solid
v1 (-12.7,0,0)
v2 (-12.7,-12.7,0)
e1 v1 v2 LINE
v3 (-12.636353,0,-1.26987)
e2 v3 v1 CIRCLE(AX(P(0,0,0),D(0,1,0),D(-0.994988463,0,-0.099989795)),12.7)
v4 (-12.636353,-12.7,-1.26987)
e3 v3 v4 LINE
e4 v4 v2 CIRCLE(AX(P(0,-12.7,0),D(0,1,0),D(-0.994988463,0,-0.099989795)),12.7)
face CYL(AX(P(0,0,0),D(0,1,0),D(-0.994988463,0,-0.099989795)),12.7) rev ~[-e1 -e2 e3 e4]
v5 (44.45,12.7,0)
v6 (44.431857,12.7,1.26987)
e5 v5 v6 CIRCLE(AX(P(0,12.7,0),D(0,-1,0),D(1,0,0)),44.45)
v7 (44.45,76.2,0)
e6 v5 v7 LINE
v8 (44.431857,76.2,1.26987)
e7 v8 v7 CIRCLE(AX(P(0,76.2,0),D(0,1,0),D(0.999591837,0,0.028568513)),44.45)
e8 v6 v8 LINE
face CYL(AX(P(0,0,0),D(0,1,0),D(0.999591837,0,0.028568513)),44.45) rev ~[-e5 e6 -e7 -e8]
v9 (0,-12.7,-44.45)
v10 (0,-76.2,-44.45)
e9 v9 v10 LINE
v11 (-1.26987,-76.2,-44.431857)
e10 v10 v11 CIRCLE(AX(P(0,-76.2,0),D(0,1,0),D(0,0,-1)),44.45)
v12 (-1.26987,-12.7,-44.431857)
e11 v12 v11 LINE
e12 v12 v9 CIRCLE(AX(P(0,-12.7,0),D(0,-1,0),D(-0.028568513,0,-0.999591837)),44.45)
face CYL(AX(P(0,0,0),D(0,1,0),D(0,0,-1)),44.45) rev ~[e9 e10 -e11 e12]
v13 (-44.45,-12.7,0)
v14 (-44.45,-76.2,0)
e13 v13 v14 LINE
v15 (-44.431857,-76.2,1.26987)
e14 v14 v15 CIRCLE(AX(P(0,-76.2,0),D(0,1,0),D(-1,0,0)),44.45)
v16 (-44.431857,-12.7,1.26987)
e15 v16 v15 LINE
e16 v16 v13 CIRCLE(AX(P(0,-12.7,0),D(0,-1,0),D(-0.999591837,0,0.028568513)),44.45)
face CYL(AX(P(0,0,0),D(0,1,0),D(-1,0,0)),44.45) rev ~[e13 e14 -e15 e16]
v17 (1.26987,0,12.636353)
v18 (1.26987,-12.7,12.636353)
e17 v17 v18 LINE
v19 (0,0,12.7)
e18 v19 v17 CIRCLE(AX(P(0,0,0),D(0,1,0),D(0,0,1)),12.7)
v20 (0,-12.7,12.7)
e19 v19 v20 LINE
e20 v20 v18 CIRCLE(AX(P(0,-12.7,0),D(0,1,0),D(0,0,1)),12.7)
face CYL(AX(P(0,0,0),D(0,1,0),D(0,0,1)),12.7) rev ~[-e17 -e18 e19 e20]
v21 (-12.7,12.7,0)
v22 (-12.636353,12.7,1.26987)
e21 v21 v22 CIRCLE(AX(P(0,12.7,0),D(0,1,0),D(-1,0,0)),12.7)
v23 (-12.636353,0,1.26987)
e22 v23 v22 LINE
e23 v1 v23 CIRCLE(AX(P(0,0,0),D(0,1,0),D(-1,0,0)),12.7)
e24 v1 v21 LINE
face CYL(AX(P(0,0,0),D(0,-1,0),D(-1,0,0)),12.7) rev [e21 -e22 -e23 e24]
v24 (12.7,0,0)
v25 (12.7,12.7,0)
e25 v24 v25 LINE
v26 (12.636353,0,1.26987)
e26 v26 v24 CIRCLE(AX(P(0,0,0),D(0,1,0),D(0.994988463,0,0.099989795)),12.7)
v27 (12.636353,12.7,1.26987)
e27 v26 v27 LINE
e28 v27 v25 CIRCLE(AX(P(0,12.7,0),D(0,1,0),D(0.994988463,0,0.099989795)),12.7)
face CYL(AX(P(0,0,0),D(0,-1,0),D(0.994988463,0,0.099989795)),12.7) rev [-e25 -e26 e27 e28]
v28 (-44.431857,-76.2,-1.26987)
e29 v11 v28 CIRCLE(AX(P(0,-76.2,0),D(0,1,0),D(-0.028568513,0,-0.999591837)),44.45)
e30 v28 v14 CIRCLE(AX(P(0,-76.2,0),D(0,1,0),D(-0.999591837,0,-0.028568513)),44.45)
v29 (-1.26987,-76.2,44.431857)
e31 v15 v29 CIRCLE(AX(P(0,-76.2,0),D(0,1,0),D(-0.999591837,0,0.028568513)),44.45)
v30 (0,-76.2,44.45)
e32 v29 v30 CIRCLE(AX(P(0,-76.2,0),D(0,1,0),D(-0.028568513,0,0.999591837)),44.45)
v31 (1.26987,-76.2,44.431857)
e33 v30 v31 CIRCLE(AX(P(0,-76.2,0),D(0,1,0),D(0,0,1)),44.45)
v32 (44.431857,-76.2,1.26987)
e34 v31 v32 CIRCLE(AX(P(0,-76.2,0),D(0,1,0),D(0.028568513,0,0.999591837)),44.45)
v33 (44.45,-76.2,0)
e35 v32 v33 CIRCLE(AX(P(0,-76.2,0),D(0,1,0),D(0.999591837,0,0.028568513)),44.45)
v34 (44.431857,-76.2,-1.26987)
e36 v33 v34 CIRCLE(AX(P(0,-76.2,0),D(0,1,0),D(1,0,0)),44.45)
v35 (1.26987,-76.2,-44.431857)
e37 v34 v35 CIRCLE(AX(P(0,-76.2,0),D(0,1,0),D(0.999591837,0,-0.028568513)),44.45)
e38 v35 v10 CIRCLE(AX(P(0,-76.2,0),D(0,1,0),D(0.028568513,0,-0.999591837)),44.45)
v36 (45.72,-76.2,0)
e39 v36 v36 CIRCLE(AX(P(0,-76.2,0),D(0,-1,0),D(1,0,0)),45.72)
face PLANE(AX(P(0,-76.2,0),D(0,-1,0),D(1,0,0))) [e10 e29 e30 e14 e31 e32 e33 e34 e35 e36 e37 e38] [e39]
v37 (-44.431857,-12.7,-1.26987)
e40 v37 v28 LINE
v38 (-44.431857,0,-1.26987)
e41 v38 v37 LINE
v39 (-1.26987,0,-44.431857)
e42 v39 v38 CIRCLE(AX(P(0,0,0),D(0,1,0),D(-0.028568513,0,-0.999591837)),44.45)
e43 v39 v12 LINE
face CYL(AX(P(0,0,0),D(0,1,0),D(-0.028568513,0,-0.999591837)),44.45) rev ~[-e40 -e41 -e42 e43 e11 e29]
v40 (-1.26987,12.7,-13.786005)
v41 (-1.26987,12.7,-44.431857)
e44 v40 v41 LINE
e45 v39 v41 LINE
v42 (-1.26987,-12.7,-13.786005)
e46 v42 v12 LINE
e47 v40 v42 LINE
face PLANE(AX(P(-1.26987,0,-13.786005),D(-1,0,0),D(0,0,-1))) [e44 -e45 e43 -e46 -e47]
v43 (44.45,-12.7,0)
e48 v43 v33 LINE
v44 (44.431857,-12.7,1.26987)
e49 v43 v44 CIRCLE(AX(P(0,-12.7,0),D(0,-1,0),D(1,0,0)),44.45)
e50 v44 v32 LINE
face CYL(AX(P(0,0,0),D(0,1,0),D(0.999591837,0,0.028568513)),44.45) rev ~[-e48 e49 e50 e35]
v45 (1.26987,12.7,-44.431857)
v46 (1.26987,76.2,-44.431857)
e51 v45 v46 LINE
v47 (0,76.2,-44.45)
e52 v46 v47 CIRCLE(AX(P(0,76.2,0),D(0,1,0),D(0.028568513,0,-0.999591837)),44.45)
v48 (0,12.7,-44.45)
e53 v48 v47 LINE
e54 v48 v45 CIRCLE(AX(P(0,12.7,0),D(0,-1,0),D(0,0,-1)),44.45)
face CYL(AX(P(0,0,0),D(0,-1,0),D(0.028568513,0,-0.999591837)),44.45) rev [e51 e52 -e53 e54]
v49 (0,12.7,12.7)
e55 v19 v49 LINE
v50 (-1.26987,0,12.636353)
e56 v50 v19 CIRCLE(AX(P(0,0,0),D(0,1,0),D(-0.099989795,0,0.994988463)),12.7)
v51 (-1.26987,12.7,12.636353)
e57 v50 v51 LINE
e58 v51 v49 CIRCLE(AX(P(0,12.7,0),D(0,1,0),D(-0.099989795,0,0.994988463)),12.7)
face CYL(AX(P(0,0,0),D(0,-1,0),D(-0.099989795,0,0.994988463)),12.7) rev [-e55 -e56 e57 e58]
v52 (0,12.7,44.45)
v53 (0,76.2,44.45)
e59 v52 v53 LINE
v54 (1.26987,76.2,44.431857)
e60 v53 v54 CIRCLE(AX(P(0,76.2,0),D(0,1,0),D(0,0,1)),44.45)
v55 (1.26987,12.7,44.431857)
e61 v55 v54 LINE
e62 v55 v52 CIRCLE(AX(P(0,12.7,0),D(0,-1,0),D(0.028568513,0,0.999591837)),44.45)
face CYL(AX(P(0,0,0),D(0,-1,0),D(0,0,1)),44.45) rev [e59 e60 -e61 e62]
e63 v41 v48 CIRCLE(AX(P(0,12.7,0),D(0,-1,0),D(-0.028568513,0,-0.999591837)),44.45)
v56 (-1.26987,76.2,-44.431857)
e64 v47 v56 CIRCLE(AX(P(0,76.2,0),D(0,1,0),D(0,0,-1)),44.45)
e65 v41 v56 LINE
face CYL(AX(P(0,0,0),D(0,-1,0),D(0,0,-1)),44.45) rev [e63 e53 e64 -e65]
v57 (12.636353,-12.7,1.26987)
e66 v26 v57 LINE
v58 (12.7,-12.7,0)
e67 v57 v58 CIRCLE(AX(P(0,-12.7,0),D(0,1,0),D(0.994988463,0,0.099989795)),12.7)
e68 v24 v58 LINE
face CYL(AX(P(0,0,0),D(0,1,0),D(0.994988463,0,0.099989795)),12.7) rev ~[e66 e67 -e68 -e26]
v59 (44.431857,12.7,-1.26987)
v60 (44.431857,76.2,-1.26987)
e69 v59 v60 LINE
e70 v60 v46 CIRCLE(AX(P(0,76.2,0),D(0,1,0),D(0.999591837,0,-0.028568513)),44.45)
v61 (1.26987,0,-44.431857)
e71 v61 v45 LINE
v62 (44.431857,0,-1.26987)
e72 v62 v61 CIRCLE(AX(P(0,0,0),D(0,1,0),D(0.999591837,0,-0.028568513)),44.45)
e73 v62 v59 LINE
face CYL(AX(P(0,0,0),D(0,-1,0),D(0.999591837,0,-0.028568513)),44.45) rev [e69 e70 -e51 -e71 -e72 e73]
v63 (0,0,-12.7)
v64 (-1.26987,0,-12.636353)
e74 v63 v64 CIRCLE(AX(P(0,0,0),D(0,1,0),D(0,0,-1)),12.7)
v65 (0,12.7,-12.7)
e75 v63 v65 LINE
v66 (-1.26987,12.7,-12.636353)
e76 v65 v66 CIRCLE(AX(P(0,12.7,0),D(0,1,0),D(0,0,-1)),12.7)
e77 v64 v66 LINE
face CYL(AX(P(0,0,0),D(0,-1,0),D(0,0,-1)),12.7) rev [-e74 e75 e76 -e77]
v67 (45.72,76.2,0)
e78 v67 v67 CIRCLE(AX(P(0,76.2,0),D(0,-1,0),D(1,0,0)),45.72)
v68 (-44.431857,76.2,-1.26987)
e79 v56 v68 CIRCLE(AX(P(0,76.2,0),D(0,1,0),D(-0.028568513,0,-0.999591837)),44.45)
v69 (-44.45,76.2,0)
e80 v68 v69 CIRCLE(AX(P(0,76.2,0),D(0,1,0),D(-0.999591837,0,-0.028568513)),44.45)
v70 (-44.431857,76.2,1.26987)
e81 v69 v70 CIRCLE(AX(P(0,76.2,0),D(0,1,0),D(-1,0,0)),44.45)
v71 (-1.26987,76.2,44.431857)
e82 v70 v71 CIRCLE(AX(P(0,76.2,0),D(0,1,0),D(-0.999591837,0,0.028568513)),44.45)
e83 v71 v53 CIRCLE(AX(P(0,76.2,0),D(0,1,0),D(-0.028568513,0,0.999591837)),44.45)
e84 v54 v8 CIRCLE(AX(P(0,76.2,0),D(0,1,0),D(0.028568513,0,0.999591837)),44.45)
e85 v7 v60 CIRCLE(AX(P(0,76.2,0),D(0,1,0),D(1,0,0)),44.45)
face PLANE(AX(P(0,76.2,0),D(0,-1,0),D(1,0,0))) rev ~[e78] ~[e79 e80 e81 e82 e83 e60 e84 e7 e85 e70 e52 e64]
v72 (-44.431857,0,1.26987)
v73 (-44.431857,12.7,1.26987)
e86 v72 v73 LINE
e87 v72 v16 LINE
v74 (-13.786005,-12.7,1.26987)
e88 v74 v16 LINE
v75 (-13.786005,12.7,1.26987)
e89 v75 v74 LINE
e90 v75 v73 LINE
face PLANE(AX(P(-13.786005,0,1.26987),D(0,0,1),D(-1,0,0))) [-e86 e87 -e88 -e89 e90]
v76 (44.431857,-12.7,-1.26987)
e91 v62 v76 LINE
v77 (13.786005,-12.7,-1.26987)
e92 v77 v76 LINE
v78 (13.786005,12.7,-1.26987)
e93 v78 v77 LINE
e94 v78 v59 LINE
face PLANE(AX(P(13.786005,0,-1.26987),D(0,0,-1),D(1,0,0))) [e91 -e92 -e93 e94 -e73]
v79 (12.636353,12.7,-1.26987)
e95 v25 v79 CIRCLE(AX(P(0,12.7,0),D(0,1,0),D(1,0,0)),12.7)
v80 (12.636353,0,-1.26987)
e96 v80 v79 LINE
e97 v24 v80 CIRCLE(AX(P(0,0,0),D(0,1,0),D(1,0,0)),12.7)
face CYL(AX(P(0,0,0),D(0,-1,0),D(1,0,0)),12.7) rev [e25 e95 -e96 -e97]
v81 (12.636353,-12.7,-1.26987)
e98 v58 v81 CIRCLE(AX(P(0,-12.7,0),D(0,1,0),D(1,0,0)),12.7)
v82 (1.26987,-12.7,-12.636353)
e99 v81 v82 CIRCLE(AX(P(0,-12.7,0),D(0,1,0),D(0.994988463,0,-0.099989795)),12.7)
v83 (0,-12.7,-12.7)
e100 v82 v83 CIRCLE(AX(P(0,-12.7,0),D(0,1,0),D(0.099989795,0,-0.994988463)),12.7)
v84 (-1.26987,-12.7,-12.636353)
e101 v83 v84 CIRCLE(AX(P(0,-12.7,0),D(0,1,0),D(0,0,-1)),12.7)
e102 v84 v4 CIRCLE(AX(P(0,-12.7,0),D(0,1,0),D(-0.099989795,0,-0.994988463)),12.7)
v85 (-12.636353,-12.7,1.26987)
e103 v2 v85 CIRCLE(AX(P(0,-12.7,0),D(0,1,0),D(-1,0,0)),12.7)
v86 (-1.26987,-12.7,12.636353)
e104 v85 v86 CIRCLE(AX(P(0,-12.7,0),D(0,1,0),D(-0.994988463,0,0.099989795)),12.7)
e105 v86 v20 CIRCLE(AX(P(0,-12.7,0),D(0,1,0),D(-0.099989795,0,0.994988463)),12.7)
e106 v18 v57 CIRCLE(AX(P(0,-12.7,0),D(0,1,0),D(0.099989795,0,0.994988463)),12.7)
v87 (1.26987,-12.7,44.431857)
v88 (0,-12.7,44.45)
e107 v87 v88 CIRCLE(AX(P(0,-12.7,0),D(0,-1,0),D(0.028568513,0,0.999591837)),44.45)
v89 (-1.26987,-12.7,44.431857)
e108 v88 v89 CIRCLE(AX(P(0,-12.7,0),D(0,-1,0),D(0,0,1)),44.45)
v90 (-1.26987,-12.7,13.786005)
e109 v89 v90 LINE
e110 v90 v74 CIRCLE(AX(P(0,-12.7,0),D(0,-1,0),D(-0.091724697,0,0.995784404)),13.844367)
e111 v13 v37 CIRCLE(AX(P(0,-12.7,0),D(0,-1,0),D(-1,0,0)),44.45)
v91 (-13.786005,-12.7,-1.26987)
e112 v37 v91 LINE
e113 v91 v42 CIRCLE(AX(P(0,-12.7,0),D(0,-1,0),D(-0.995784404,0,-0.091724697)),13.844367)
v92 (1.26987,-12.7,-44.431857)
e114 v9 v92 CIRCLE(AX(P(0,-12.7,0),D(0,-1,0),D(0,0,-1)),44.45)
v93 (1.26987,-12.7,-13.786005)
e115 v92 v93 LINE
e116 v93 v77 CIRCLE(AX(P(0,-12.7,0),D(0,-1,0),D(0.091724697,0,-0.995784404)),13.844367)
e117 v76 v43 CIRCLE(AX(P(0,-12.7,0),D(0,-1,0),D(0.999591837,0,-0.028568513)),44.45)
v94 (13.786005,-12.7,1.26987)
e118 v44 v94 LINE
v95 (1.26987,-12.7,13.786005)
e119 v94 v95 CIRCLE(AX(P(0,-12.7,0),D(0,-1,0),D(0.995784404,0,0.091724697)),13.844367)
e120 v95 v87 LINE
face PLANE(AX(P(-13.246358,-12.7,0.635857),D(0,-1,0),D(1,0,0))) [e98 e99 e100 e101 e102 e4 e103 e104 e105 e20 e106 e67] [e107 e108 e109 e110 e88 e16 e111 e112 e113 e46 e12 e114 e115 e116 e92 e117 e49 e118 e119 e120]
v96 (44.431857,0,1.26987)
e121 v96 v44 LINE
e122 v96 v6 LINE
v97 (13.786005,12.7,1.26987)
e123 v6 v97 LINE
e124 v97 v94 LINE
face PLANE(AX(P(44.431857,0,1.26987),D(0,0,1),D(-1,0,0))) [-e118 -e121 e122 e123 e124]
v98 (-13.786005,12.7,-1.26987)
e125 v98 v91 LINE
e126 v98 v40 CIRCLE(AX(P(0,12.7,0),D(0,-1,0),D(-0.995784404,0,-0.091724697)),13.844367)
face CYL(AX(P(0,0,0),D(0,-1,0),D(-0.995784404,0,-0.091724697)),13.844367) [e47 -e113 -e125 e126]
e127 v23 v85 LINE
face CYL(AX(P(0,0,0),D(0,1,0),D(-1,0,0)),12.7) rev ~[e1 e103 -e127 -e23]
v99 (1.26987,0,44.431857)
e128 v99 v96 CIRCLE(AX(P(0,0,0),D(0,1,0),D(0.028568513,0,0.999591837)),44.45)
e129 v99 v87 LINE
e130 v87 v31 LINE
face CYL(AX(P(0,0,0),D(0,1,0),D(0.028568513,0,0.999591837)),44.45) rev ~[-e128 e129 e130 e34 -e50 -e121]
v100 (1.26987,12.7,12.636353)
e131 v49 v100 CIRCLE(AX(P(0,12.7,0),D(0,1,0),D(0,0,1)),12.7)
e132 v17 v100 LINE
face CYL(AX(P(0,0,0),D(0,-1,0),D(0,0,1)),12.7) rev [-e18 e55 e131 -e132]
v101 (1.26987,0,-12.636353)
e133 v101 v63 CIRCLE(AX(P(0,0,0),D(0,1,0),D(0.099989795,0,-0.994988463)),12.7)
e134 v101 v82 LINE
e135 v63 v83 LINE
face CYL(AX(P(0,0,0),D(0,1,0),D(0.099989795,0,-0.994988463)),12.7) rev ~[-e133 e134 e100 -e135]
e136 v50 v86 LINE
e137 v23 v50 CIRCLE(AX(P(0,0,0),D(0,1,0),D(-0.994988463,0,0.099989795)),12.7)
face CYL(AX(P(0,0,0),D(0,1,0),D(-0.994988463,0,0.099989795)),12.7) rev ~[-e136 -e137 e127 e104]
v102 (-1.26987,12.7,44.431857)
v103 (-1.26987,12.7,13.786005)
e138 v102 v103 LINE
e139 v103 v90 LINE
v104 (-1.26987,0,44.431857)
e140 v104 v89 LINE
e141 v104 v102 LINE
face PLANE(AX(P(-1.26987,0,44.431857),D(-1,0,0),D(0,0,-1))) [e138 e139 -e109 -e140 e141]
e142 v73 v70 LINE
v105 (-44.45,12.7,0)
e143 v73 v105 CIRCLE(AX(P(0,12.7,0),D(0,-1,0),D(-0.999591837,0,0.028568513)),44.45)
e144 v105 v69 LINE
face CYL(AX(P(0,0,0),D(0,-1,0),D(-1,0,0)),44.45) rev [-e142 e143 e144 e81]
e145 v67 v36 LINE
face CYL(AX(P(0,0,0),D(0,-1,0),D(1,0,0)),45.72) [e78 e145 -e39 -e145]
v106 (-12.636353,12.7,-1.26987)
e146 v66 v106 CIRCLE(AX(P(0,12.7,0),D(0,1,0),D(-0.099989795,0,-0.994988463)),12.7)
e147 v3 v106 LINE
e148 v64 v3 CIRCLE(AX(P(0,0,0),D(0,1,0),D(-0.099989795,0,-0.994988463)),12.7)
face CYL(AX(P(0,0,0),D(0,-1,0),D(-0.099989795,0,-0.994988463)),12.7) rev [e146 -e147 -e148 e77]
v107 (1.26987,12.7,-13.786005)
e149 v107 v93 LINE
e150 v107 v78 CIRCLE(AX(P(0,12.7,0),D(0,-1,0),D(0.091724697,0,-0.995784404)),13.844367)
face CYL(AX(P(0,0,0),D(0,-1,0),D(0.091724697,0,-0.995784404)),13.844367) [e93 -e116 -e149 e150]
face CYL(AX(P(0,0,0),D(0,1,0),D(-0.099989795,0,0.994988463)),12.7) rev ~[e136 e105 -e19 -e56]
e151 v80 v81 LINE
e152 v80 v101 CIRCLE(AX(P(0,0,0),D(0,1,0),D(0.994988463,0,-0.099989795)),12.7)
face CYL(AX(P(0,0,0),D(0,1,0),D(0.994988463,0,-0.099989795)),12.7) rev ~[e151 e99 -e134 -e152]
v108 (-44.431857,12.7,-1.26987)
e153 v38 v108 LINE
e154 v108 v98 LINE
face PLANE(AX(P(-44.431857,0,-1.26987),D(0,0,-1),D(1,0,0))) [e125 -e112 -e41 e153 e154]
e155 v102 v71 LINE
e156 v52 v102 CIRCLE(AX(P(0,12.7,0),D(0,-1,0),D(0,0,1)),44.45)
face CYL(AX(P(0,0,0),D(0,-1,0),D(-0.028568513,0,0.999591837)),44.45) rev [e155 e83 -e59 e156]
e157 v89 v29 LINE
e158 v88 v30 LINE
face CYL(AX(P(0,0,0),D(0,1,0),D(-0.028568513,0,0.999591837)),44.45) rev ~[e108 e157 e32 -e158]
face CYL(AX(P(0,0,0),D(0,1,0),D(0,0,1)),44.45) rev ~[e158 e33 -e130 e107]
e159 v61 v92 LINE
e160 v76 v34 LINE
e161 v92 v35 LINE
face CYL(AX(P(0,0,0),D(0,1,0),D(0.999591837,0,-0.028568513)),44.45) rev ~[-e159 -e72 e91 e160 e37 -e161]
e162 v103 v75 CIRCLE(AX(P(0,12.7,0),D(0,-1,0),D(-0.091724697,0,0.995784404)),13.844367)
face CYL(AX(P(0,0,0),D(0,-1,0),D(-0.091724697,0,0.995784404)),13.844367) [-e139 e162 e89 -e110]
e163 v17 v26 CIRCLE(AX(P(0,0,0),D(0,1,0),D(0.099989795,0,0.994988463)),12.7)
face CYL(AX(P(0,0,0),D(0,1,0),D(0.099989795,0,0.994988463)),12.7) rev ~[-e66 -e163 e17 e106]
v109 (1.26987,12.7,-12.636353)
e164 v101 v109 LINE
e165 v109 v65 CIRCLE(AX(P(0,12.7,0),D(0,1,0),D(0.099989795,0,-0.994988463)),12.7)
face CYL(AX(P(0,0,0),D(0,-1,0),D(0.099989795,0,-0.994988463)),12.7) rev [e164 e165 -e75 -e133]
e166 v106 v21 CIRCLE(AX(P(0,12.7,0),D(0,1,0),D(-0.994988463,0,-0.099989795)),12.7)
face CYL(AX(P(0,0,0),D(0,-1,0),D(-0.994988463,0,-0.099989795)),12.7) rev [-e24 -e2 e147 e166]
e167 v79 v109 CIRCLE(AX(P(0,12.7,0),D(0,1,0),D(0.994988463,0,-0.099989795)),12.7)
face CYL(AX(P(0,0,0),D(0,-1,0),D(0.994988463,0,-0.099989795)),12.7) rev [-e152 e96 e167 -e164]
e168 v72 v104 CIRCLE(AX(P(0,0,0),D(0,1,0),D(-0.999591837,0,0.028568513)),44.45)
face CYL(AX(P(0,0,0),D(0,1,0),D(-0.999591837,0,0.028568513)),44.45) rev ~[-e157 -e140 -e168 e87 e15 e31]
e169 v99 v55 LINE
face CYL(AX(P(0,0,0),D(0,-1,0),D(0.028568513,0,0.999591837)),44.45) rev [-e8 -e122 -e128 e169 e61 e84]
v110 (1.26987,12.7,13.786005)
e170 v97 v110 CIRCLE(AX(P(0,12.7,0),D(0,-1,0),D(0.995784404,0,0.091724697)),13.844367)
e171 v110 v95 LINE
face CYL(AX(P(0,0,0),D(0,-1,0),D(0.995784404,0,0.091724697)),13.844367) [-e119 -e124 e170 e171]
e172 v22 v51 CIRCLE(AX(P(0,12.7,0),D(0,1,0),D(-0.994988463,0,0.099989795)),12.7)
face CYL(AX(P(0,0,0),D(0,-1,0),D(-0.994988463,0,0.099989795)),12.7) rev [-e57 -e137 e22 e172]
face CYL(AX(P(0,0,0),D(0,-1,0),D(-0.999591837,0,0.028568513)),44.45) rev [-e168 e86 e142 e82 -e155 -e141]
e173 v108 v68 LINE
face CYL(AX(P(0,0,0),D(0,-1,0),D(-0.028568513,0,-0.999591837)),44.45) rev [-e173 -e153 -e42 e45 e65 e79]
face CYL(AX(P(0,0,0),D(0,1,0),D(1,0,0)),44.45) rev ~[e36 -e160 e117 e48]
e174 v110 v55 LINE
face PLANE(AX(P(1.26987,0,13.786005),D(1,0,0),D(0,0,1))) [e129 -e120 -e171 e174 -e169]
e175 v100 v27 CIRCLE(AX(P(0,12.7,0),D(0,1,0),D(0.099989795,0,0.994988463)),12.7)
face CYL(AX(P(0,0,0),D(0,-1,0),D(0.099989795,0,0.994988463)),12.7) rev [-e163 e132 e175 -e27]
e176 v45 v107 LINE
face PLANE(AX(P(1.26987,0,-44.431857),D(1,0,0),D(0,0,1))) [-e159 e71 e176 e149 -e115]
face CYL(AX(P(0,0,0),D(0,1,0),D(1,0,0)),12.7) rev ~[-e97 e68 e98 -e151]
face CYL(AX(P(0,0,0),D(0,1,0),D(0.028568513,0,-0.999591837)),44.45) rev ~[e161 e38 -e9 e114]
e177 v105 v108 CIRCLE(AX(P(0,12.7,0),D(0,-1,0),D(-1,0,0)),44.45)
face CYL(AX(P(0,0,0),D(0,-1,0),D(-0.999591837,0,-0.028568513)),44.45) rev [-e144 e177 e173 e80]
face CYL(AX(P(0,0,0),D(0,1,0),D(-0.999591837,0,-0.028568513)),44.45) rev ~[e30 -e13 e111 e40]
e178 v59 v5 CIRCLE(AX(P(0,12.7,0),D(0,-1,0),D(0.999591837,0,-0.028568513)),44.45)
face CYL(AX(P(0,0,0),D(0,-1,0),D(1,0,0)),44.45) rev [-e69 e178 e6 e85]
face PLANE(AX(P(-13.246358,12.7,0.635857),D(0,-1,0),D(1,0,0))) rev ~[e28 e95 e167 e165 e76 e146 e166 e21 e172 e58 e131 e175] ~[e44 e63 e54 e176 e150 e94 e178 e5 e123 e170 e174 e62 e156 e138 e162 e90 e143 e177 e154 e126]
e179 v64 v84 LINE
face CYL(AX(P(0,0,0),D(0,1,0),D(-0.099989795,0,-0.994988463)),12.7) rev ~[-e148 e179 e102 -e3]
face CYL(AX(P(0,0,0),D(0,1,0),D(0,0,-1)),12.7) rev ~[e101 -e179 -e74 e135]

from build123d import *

# Parameters (mm, degrees)
F0_R     = 45.72
F1_DEPTH = 76.2
F2_DEPTH = 12.7


with BuildPart() as f1:
    # F0 (on Front) → F1 (new body, symmetric)
    with BuildSketch(Plane.XZ):
        Circle(F0_R)
        with BuildLine():
            ThreePointArc((44.4318571429, 1.2698704016), (44.4454640543, 0.635), (44.45, 0))
            ThreePointArc((44.45, 0), (44.4454640543, -0.635), (44.4318571429, -1.2698704016))
            ThreePointArc((44.4318571429, -1.2698704016), (31.4308964237, -31.4308964237), (1.2698704016, -44.4318571429))
            ThreePointArc((1.2698704016, -44.4318571429), (0.635, -44.4454640543), (0, -44.45))
            ThreePointArc((0, -44.45), (-0.635, -44.4454640543), (-1.2698704016, -44.4318571429))
            ThreePointArc((-1.2698704016, -44.4318571429), (-31.4308964237, -31.4308964237), (-44.4318571429, -1.2698704016))
            ThreePointArc((-44.4318571429, -1.2698704016), (-44.4454640543, -0.635), (-44.45, 0))
            ThreePointArc((-44.45, 0), (-44.4454640543, 0.635), (-44.4318571429, 1.2698704016))
            ThreePointArc((-44.4318571429, 1.2698704016), (-31.4308964237, 31.4308964237), (-1.2698704016, 44.4318571429))
            ThreePointArc((-1.2698704016, 44.4318571429), (-0.635, 44.4454640543), (0, 44.45))
            ThreePointArc((0, 44.45), (0.635, 44.4454640543), (1.2698704016, 44.4318571429))
            ThreePointArc((1.2698704016, 44.4318571429), (31.4308964237, 31.4308964237), (44.4318571429, 1.2698704016))
        make_face(mode=Mode.SUBTRACT)
    extrude(amount=F1_DEPTH, both=True)

    # F0 (on Front) → F2 (join, symmetric)
    with BuildSketch(Plane.XZ):
        with BuildLine():
            Line((-12.6363534757, 1.2698704016), (-13.7860050542, 1.2698704016))
            ThreePointArc((-13.7860050542, 1.2698704016), (-13.8297690489, 0.635605418), (-13.8443673092, 0))
            Line((-13.8443673092, 0), (-12.7, 0))
            ThreePointArc((-12.7, 0), (-12.6840783887, 0.6357321993), (-12.6363534757, 1.2698704016))
        make_face()
        with BuildLine():
            Line((-13.7860050542, 1.2698704016), (-44.4318571429, 1.2698704016))
            ThreePointArc((-44.4318571429, 1.2698704016), (-44.4454640543, 0.635), (-44.45, 0))
            Line((-44.45, 0), (-13.8443673092, 0))
            ThreePointArc((-13.8443673092, 0), (-13.8297690489, 0.635605418), (-13.7860050542, 1.2698704016))
        make_face()
        with BuildLine():
            Line((1.2698704016, 12.6363534757), (1.2698704016, 13.7860050542))
            ThreePointArc((1.2698704016, 13.7860050542), (0.635605418, 13.8297690489), (0, 13.8443673092))
            Line((0, 13.8443673092), (0, 12.7))
            ThreePointArc((0, 12.7), (0.6357321993, 12.6840783887), (1.2698704016, 12.6363534757))
        make_face()
        with BuildLine():
            Line((1.2698704016, 13.7860050542), (1.2698704016, 44.4318571429))
            ThreePointArc((1.2698704016, 44.4318571429), (0.635, 44.4454640543), (0, 44.45))
            Line((0, 44.45), (0, 13.8443673092))
            ThreePointArc((0, 13.8443673092), (0.635605418, 13.8297690489), (1.2698704016, 13.7860050542))
        make_face()
        with BuildLine():
            Line((12.7, 0), (13.8443673092, 0))
            ThreePointArc((13.8443673092, 0), (13.8297690489, 0.635605418), (13.7860050542, 1.2698704016))
            Line((13.7860050542, 1.2698704016), (12.6363534757, 1.2698704016))
            ThreePointArc((12.6363534757, 1.2698704016), (12.6840783887, 0.6357321993), (12.7, 0))
        make_face()
        with BuildLine():
            Line((13.8443673092, 0), (44.45, 0))
            ThreePointArc((44.45, 0), (44.4454640543, 0.635), (44.4318571429, 1.2698704016))
            Line((44.4318571429, 1.2698704016), (13.7860050542, 1.2698704016))
            ThreePointArc((13.7860050542, 1.2698704016), (13.8297690489, 0.635605418), (13.8443673092, 0))
        make_face()
        with BuildLine():
            ThreePointArc((-1.2698704016, -13.7860050542), (-0.635605418, -13.8297690489), (0, -13.8443673092))
            Line((0, -13.8443673092), (0, -12.7))
            ThreePointArc((0, -12.7), (-0.6357321993, -12.6840783887), (-1.2698704016, -12.6363534757))
            Line((-1.2698704016, -12.6363534757), (-1.2698704016, -13.7860050542))
        make_face()
        with BuildLine():
            ThreePointArc((-1.2698704016, -44.4318571429), (-0.635, -44.4454640543), (0, -44.45))
            Line((0, -44.45), (0, -13.8443673092))
            ThreePointArc((0, -13.8443673092), (-0.635605418, -13.8297690489), (-1.2698704016, -13.7860050542))
            Line((-1.2698704016, -13.7860050542), (-1.2698704016, -44.4318571429))
        make_face()
        with BuildLine():
            ThreePointArc((0, -13.8443673092), (0.635605418, -13.8297690489), (1.2698704016, -13.7860050542))
            Line((1.2698704016, -13.7860050542), (1.2698704016, -12.6363534757))
            ThreePointArc((1.2698704016, -12.6363534757), (0.6357321993, -12.6840783887), (0, -12.7))
            Line((0, -12.7), (0, -13.8443673092))
        make_face()
        with BuildLine():
            ThreePointArc((0, -44.45), (0.635, -44.4454640543), (1.2698704016, -44.4318571429))
            Line((1.2698704016, -44.4318571429), (1.2698704016, -13.7860050542))
            ThreePointArc((1.2698704016, -13.7860050542), (0.635605418, -13.8297690489), (0, -13.8443673092))
            Line((0, -13.8443673092), (0, -44.45))
        make_face()
        with BuildLine():
            ThreePointArc((-13.8443673092, 0), (-13.8297690489, -0.635605418), (-13.7860050542, -1.2698704016))
            Line((-13.7860050542, -1.2698704016), (-12.6363534757, -1.2698704016))
            ThreePointArc((-12.6363534757, -1.2698704016), (-12.6840783887, -0.6357321993), (-12.7, 0))
            Line((-12.7, 0), (-13.8443673092, 0))
        make_face()
        with BuildLine():
            ThreePointArc((-44.45, 0), (-44.4454640543, -0.635), (-44.4318571429, -1.2698704016))
            Line((-44.4318571429, -1.2698704016), (-13.7860050542, -1.2698704016))
            ThreePointArc((-13.7860050542, -1.2698704016), (-13.8297690489, -0.635605418), (-13.8443673092, 0))
            Line((-13.8443673092, 0), (-44.45, 0))
        make_face()
        with BuildLine():
            ThreePointArc((13.7860050542, -1.2698704016), (13.8297690489, -0.635605418), (13.8443673092, 0))
            Line((13.8443673092, 0), (12.7, 0))
            ThreePointArc((12.7, 0), (12.6840783887, -0.6357321993), (12.6363534757, -1.2698704016))
            Line((12.6363534757, -1.2698704016), (13.7860050542, -1.2698704016))
        make_face()
        with BuildLine():
            ThreePointArc((44.4318571429, -1.2698704016), (44.4454640543, -0.635), (44.45, 0))
            Line((44.45, 0), (13.8443673092, 0))
            ThreePointArc((13.8443673092, 0), (13.8297690489, -0.635605418), (13.7860050542, -1.2698704016))
            Line((13.7860050542, -1.2698704016), (44.4318571429, -1.2698704016))
        make_face()
        with BuildLine():
            ThreePointArc((-13.7860050542, -1.2698704016), (-9.7894460056, -9.7894460056), (-1.2698704016, -13.7860050542))
            Line((-1.2698704016, -13.7860050542), (-1.2698704016, -12.6363534757))
            ThreePointArc((-1.2698704016, -12.6363534757), (-8.9802561211, -8.9802561211), (-12.6363534757, -1.2698704016))
            Line((-12.6363534757, -1.2698704016), (-13.7860050542, -1.2698704016))
        make_face()
        with BuildLine():
            ThreePointArc((1.2698704016, -13.7860050542), (9.7894460056, -9.7894460056), (13.7860050542, -1.2698704016))
            Line((13.7860050542, -1.2698704016), (12.6363534757, -1.2698704016))
            ThreePointArc((12.6363534757, -1.2698704016), (8.9802561211, -8.9802561211), (1.2698704016, -12.6363534757))
            Line((1.2698704016, -12.6363534757), (1.2698704016, -13.7860050542))
        make_face()
        with BuildLine():
            Line((12.6363534757, 1.2698704016), (13.7860050542, 1.2698704016))
            ThreePointArc((13.7860050542, 1.2698704016), (9.7894460056, 9.7894460056), (1.2698704016, 13.7860050542))
            Line((1.2698704016, 13.7860050542), (1.2698704016, 12.6363534757))
            ThreePointArc((1.2698704016, 12.6363534757), (8.9802561211, 8.9802561211), (12.6363534757, 1.2698704016))
        make_face()
        with BuildLine():
            Line((-1.2698704016, 12.6363534757), (-1.2698704016, 13.7860050542))
            ThreePointArc((-1.2698704016, 13.7860050542), (-9.7894460056, 9.7894460056), (-13.7860050542, 1.2698704016))
            Line((-13.7860050542, 1.2698704016), (-12.6363534757, 1.2698704016))
            ThreePointArc((-12.6363534757, 1.2698704016), (-8.9802561211, 8.9802561211), (-1.2698704016, 12.6363534757))
        make_face()
        with BuildLine():
            Line((0, 13.8443673092), (0, 44.45))
            ThreePointArc((0, 44.45), (-0.635, 44.4454640543), (-1.2698704016, 44.4318571429))
            Line((-1.2698704016, 44.4318571429), (-1.2698704016, 13.7860050542))
            ThreePointArc((-1.2698704016, 13.7860050542), (-0.635605418, 13.8297690489), (0, 13.8443673092))
        make_face()
        with BuildLine():
            Line((0, 12.7), (0, 13.8443673092))
            ThreePointArc((0, 13.8443673092), (-0.635605418, 13.8297690489), (-1.2698704016, 13.7860050542))
            Line((-1.2698704016, 13.7860050542), (-1.2698704016, 12.6363534757))
            ThreePointArc((-1.2698704016, 12.6363534757), (-0.6357321993, 12.6840783887), (0, 12.7))
        make_face()
    extrude(amount=F2_DEPTH, both=True)


solid = f1.part
